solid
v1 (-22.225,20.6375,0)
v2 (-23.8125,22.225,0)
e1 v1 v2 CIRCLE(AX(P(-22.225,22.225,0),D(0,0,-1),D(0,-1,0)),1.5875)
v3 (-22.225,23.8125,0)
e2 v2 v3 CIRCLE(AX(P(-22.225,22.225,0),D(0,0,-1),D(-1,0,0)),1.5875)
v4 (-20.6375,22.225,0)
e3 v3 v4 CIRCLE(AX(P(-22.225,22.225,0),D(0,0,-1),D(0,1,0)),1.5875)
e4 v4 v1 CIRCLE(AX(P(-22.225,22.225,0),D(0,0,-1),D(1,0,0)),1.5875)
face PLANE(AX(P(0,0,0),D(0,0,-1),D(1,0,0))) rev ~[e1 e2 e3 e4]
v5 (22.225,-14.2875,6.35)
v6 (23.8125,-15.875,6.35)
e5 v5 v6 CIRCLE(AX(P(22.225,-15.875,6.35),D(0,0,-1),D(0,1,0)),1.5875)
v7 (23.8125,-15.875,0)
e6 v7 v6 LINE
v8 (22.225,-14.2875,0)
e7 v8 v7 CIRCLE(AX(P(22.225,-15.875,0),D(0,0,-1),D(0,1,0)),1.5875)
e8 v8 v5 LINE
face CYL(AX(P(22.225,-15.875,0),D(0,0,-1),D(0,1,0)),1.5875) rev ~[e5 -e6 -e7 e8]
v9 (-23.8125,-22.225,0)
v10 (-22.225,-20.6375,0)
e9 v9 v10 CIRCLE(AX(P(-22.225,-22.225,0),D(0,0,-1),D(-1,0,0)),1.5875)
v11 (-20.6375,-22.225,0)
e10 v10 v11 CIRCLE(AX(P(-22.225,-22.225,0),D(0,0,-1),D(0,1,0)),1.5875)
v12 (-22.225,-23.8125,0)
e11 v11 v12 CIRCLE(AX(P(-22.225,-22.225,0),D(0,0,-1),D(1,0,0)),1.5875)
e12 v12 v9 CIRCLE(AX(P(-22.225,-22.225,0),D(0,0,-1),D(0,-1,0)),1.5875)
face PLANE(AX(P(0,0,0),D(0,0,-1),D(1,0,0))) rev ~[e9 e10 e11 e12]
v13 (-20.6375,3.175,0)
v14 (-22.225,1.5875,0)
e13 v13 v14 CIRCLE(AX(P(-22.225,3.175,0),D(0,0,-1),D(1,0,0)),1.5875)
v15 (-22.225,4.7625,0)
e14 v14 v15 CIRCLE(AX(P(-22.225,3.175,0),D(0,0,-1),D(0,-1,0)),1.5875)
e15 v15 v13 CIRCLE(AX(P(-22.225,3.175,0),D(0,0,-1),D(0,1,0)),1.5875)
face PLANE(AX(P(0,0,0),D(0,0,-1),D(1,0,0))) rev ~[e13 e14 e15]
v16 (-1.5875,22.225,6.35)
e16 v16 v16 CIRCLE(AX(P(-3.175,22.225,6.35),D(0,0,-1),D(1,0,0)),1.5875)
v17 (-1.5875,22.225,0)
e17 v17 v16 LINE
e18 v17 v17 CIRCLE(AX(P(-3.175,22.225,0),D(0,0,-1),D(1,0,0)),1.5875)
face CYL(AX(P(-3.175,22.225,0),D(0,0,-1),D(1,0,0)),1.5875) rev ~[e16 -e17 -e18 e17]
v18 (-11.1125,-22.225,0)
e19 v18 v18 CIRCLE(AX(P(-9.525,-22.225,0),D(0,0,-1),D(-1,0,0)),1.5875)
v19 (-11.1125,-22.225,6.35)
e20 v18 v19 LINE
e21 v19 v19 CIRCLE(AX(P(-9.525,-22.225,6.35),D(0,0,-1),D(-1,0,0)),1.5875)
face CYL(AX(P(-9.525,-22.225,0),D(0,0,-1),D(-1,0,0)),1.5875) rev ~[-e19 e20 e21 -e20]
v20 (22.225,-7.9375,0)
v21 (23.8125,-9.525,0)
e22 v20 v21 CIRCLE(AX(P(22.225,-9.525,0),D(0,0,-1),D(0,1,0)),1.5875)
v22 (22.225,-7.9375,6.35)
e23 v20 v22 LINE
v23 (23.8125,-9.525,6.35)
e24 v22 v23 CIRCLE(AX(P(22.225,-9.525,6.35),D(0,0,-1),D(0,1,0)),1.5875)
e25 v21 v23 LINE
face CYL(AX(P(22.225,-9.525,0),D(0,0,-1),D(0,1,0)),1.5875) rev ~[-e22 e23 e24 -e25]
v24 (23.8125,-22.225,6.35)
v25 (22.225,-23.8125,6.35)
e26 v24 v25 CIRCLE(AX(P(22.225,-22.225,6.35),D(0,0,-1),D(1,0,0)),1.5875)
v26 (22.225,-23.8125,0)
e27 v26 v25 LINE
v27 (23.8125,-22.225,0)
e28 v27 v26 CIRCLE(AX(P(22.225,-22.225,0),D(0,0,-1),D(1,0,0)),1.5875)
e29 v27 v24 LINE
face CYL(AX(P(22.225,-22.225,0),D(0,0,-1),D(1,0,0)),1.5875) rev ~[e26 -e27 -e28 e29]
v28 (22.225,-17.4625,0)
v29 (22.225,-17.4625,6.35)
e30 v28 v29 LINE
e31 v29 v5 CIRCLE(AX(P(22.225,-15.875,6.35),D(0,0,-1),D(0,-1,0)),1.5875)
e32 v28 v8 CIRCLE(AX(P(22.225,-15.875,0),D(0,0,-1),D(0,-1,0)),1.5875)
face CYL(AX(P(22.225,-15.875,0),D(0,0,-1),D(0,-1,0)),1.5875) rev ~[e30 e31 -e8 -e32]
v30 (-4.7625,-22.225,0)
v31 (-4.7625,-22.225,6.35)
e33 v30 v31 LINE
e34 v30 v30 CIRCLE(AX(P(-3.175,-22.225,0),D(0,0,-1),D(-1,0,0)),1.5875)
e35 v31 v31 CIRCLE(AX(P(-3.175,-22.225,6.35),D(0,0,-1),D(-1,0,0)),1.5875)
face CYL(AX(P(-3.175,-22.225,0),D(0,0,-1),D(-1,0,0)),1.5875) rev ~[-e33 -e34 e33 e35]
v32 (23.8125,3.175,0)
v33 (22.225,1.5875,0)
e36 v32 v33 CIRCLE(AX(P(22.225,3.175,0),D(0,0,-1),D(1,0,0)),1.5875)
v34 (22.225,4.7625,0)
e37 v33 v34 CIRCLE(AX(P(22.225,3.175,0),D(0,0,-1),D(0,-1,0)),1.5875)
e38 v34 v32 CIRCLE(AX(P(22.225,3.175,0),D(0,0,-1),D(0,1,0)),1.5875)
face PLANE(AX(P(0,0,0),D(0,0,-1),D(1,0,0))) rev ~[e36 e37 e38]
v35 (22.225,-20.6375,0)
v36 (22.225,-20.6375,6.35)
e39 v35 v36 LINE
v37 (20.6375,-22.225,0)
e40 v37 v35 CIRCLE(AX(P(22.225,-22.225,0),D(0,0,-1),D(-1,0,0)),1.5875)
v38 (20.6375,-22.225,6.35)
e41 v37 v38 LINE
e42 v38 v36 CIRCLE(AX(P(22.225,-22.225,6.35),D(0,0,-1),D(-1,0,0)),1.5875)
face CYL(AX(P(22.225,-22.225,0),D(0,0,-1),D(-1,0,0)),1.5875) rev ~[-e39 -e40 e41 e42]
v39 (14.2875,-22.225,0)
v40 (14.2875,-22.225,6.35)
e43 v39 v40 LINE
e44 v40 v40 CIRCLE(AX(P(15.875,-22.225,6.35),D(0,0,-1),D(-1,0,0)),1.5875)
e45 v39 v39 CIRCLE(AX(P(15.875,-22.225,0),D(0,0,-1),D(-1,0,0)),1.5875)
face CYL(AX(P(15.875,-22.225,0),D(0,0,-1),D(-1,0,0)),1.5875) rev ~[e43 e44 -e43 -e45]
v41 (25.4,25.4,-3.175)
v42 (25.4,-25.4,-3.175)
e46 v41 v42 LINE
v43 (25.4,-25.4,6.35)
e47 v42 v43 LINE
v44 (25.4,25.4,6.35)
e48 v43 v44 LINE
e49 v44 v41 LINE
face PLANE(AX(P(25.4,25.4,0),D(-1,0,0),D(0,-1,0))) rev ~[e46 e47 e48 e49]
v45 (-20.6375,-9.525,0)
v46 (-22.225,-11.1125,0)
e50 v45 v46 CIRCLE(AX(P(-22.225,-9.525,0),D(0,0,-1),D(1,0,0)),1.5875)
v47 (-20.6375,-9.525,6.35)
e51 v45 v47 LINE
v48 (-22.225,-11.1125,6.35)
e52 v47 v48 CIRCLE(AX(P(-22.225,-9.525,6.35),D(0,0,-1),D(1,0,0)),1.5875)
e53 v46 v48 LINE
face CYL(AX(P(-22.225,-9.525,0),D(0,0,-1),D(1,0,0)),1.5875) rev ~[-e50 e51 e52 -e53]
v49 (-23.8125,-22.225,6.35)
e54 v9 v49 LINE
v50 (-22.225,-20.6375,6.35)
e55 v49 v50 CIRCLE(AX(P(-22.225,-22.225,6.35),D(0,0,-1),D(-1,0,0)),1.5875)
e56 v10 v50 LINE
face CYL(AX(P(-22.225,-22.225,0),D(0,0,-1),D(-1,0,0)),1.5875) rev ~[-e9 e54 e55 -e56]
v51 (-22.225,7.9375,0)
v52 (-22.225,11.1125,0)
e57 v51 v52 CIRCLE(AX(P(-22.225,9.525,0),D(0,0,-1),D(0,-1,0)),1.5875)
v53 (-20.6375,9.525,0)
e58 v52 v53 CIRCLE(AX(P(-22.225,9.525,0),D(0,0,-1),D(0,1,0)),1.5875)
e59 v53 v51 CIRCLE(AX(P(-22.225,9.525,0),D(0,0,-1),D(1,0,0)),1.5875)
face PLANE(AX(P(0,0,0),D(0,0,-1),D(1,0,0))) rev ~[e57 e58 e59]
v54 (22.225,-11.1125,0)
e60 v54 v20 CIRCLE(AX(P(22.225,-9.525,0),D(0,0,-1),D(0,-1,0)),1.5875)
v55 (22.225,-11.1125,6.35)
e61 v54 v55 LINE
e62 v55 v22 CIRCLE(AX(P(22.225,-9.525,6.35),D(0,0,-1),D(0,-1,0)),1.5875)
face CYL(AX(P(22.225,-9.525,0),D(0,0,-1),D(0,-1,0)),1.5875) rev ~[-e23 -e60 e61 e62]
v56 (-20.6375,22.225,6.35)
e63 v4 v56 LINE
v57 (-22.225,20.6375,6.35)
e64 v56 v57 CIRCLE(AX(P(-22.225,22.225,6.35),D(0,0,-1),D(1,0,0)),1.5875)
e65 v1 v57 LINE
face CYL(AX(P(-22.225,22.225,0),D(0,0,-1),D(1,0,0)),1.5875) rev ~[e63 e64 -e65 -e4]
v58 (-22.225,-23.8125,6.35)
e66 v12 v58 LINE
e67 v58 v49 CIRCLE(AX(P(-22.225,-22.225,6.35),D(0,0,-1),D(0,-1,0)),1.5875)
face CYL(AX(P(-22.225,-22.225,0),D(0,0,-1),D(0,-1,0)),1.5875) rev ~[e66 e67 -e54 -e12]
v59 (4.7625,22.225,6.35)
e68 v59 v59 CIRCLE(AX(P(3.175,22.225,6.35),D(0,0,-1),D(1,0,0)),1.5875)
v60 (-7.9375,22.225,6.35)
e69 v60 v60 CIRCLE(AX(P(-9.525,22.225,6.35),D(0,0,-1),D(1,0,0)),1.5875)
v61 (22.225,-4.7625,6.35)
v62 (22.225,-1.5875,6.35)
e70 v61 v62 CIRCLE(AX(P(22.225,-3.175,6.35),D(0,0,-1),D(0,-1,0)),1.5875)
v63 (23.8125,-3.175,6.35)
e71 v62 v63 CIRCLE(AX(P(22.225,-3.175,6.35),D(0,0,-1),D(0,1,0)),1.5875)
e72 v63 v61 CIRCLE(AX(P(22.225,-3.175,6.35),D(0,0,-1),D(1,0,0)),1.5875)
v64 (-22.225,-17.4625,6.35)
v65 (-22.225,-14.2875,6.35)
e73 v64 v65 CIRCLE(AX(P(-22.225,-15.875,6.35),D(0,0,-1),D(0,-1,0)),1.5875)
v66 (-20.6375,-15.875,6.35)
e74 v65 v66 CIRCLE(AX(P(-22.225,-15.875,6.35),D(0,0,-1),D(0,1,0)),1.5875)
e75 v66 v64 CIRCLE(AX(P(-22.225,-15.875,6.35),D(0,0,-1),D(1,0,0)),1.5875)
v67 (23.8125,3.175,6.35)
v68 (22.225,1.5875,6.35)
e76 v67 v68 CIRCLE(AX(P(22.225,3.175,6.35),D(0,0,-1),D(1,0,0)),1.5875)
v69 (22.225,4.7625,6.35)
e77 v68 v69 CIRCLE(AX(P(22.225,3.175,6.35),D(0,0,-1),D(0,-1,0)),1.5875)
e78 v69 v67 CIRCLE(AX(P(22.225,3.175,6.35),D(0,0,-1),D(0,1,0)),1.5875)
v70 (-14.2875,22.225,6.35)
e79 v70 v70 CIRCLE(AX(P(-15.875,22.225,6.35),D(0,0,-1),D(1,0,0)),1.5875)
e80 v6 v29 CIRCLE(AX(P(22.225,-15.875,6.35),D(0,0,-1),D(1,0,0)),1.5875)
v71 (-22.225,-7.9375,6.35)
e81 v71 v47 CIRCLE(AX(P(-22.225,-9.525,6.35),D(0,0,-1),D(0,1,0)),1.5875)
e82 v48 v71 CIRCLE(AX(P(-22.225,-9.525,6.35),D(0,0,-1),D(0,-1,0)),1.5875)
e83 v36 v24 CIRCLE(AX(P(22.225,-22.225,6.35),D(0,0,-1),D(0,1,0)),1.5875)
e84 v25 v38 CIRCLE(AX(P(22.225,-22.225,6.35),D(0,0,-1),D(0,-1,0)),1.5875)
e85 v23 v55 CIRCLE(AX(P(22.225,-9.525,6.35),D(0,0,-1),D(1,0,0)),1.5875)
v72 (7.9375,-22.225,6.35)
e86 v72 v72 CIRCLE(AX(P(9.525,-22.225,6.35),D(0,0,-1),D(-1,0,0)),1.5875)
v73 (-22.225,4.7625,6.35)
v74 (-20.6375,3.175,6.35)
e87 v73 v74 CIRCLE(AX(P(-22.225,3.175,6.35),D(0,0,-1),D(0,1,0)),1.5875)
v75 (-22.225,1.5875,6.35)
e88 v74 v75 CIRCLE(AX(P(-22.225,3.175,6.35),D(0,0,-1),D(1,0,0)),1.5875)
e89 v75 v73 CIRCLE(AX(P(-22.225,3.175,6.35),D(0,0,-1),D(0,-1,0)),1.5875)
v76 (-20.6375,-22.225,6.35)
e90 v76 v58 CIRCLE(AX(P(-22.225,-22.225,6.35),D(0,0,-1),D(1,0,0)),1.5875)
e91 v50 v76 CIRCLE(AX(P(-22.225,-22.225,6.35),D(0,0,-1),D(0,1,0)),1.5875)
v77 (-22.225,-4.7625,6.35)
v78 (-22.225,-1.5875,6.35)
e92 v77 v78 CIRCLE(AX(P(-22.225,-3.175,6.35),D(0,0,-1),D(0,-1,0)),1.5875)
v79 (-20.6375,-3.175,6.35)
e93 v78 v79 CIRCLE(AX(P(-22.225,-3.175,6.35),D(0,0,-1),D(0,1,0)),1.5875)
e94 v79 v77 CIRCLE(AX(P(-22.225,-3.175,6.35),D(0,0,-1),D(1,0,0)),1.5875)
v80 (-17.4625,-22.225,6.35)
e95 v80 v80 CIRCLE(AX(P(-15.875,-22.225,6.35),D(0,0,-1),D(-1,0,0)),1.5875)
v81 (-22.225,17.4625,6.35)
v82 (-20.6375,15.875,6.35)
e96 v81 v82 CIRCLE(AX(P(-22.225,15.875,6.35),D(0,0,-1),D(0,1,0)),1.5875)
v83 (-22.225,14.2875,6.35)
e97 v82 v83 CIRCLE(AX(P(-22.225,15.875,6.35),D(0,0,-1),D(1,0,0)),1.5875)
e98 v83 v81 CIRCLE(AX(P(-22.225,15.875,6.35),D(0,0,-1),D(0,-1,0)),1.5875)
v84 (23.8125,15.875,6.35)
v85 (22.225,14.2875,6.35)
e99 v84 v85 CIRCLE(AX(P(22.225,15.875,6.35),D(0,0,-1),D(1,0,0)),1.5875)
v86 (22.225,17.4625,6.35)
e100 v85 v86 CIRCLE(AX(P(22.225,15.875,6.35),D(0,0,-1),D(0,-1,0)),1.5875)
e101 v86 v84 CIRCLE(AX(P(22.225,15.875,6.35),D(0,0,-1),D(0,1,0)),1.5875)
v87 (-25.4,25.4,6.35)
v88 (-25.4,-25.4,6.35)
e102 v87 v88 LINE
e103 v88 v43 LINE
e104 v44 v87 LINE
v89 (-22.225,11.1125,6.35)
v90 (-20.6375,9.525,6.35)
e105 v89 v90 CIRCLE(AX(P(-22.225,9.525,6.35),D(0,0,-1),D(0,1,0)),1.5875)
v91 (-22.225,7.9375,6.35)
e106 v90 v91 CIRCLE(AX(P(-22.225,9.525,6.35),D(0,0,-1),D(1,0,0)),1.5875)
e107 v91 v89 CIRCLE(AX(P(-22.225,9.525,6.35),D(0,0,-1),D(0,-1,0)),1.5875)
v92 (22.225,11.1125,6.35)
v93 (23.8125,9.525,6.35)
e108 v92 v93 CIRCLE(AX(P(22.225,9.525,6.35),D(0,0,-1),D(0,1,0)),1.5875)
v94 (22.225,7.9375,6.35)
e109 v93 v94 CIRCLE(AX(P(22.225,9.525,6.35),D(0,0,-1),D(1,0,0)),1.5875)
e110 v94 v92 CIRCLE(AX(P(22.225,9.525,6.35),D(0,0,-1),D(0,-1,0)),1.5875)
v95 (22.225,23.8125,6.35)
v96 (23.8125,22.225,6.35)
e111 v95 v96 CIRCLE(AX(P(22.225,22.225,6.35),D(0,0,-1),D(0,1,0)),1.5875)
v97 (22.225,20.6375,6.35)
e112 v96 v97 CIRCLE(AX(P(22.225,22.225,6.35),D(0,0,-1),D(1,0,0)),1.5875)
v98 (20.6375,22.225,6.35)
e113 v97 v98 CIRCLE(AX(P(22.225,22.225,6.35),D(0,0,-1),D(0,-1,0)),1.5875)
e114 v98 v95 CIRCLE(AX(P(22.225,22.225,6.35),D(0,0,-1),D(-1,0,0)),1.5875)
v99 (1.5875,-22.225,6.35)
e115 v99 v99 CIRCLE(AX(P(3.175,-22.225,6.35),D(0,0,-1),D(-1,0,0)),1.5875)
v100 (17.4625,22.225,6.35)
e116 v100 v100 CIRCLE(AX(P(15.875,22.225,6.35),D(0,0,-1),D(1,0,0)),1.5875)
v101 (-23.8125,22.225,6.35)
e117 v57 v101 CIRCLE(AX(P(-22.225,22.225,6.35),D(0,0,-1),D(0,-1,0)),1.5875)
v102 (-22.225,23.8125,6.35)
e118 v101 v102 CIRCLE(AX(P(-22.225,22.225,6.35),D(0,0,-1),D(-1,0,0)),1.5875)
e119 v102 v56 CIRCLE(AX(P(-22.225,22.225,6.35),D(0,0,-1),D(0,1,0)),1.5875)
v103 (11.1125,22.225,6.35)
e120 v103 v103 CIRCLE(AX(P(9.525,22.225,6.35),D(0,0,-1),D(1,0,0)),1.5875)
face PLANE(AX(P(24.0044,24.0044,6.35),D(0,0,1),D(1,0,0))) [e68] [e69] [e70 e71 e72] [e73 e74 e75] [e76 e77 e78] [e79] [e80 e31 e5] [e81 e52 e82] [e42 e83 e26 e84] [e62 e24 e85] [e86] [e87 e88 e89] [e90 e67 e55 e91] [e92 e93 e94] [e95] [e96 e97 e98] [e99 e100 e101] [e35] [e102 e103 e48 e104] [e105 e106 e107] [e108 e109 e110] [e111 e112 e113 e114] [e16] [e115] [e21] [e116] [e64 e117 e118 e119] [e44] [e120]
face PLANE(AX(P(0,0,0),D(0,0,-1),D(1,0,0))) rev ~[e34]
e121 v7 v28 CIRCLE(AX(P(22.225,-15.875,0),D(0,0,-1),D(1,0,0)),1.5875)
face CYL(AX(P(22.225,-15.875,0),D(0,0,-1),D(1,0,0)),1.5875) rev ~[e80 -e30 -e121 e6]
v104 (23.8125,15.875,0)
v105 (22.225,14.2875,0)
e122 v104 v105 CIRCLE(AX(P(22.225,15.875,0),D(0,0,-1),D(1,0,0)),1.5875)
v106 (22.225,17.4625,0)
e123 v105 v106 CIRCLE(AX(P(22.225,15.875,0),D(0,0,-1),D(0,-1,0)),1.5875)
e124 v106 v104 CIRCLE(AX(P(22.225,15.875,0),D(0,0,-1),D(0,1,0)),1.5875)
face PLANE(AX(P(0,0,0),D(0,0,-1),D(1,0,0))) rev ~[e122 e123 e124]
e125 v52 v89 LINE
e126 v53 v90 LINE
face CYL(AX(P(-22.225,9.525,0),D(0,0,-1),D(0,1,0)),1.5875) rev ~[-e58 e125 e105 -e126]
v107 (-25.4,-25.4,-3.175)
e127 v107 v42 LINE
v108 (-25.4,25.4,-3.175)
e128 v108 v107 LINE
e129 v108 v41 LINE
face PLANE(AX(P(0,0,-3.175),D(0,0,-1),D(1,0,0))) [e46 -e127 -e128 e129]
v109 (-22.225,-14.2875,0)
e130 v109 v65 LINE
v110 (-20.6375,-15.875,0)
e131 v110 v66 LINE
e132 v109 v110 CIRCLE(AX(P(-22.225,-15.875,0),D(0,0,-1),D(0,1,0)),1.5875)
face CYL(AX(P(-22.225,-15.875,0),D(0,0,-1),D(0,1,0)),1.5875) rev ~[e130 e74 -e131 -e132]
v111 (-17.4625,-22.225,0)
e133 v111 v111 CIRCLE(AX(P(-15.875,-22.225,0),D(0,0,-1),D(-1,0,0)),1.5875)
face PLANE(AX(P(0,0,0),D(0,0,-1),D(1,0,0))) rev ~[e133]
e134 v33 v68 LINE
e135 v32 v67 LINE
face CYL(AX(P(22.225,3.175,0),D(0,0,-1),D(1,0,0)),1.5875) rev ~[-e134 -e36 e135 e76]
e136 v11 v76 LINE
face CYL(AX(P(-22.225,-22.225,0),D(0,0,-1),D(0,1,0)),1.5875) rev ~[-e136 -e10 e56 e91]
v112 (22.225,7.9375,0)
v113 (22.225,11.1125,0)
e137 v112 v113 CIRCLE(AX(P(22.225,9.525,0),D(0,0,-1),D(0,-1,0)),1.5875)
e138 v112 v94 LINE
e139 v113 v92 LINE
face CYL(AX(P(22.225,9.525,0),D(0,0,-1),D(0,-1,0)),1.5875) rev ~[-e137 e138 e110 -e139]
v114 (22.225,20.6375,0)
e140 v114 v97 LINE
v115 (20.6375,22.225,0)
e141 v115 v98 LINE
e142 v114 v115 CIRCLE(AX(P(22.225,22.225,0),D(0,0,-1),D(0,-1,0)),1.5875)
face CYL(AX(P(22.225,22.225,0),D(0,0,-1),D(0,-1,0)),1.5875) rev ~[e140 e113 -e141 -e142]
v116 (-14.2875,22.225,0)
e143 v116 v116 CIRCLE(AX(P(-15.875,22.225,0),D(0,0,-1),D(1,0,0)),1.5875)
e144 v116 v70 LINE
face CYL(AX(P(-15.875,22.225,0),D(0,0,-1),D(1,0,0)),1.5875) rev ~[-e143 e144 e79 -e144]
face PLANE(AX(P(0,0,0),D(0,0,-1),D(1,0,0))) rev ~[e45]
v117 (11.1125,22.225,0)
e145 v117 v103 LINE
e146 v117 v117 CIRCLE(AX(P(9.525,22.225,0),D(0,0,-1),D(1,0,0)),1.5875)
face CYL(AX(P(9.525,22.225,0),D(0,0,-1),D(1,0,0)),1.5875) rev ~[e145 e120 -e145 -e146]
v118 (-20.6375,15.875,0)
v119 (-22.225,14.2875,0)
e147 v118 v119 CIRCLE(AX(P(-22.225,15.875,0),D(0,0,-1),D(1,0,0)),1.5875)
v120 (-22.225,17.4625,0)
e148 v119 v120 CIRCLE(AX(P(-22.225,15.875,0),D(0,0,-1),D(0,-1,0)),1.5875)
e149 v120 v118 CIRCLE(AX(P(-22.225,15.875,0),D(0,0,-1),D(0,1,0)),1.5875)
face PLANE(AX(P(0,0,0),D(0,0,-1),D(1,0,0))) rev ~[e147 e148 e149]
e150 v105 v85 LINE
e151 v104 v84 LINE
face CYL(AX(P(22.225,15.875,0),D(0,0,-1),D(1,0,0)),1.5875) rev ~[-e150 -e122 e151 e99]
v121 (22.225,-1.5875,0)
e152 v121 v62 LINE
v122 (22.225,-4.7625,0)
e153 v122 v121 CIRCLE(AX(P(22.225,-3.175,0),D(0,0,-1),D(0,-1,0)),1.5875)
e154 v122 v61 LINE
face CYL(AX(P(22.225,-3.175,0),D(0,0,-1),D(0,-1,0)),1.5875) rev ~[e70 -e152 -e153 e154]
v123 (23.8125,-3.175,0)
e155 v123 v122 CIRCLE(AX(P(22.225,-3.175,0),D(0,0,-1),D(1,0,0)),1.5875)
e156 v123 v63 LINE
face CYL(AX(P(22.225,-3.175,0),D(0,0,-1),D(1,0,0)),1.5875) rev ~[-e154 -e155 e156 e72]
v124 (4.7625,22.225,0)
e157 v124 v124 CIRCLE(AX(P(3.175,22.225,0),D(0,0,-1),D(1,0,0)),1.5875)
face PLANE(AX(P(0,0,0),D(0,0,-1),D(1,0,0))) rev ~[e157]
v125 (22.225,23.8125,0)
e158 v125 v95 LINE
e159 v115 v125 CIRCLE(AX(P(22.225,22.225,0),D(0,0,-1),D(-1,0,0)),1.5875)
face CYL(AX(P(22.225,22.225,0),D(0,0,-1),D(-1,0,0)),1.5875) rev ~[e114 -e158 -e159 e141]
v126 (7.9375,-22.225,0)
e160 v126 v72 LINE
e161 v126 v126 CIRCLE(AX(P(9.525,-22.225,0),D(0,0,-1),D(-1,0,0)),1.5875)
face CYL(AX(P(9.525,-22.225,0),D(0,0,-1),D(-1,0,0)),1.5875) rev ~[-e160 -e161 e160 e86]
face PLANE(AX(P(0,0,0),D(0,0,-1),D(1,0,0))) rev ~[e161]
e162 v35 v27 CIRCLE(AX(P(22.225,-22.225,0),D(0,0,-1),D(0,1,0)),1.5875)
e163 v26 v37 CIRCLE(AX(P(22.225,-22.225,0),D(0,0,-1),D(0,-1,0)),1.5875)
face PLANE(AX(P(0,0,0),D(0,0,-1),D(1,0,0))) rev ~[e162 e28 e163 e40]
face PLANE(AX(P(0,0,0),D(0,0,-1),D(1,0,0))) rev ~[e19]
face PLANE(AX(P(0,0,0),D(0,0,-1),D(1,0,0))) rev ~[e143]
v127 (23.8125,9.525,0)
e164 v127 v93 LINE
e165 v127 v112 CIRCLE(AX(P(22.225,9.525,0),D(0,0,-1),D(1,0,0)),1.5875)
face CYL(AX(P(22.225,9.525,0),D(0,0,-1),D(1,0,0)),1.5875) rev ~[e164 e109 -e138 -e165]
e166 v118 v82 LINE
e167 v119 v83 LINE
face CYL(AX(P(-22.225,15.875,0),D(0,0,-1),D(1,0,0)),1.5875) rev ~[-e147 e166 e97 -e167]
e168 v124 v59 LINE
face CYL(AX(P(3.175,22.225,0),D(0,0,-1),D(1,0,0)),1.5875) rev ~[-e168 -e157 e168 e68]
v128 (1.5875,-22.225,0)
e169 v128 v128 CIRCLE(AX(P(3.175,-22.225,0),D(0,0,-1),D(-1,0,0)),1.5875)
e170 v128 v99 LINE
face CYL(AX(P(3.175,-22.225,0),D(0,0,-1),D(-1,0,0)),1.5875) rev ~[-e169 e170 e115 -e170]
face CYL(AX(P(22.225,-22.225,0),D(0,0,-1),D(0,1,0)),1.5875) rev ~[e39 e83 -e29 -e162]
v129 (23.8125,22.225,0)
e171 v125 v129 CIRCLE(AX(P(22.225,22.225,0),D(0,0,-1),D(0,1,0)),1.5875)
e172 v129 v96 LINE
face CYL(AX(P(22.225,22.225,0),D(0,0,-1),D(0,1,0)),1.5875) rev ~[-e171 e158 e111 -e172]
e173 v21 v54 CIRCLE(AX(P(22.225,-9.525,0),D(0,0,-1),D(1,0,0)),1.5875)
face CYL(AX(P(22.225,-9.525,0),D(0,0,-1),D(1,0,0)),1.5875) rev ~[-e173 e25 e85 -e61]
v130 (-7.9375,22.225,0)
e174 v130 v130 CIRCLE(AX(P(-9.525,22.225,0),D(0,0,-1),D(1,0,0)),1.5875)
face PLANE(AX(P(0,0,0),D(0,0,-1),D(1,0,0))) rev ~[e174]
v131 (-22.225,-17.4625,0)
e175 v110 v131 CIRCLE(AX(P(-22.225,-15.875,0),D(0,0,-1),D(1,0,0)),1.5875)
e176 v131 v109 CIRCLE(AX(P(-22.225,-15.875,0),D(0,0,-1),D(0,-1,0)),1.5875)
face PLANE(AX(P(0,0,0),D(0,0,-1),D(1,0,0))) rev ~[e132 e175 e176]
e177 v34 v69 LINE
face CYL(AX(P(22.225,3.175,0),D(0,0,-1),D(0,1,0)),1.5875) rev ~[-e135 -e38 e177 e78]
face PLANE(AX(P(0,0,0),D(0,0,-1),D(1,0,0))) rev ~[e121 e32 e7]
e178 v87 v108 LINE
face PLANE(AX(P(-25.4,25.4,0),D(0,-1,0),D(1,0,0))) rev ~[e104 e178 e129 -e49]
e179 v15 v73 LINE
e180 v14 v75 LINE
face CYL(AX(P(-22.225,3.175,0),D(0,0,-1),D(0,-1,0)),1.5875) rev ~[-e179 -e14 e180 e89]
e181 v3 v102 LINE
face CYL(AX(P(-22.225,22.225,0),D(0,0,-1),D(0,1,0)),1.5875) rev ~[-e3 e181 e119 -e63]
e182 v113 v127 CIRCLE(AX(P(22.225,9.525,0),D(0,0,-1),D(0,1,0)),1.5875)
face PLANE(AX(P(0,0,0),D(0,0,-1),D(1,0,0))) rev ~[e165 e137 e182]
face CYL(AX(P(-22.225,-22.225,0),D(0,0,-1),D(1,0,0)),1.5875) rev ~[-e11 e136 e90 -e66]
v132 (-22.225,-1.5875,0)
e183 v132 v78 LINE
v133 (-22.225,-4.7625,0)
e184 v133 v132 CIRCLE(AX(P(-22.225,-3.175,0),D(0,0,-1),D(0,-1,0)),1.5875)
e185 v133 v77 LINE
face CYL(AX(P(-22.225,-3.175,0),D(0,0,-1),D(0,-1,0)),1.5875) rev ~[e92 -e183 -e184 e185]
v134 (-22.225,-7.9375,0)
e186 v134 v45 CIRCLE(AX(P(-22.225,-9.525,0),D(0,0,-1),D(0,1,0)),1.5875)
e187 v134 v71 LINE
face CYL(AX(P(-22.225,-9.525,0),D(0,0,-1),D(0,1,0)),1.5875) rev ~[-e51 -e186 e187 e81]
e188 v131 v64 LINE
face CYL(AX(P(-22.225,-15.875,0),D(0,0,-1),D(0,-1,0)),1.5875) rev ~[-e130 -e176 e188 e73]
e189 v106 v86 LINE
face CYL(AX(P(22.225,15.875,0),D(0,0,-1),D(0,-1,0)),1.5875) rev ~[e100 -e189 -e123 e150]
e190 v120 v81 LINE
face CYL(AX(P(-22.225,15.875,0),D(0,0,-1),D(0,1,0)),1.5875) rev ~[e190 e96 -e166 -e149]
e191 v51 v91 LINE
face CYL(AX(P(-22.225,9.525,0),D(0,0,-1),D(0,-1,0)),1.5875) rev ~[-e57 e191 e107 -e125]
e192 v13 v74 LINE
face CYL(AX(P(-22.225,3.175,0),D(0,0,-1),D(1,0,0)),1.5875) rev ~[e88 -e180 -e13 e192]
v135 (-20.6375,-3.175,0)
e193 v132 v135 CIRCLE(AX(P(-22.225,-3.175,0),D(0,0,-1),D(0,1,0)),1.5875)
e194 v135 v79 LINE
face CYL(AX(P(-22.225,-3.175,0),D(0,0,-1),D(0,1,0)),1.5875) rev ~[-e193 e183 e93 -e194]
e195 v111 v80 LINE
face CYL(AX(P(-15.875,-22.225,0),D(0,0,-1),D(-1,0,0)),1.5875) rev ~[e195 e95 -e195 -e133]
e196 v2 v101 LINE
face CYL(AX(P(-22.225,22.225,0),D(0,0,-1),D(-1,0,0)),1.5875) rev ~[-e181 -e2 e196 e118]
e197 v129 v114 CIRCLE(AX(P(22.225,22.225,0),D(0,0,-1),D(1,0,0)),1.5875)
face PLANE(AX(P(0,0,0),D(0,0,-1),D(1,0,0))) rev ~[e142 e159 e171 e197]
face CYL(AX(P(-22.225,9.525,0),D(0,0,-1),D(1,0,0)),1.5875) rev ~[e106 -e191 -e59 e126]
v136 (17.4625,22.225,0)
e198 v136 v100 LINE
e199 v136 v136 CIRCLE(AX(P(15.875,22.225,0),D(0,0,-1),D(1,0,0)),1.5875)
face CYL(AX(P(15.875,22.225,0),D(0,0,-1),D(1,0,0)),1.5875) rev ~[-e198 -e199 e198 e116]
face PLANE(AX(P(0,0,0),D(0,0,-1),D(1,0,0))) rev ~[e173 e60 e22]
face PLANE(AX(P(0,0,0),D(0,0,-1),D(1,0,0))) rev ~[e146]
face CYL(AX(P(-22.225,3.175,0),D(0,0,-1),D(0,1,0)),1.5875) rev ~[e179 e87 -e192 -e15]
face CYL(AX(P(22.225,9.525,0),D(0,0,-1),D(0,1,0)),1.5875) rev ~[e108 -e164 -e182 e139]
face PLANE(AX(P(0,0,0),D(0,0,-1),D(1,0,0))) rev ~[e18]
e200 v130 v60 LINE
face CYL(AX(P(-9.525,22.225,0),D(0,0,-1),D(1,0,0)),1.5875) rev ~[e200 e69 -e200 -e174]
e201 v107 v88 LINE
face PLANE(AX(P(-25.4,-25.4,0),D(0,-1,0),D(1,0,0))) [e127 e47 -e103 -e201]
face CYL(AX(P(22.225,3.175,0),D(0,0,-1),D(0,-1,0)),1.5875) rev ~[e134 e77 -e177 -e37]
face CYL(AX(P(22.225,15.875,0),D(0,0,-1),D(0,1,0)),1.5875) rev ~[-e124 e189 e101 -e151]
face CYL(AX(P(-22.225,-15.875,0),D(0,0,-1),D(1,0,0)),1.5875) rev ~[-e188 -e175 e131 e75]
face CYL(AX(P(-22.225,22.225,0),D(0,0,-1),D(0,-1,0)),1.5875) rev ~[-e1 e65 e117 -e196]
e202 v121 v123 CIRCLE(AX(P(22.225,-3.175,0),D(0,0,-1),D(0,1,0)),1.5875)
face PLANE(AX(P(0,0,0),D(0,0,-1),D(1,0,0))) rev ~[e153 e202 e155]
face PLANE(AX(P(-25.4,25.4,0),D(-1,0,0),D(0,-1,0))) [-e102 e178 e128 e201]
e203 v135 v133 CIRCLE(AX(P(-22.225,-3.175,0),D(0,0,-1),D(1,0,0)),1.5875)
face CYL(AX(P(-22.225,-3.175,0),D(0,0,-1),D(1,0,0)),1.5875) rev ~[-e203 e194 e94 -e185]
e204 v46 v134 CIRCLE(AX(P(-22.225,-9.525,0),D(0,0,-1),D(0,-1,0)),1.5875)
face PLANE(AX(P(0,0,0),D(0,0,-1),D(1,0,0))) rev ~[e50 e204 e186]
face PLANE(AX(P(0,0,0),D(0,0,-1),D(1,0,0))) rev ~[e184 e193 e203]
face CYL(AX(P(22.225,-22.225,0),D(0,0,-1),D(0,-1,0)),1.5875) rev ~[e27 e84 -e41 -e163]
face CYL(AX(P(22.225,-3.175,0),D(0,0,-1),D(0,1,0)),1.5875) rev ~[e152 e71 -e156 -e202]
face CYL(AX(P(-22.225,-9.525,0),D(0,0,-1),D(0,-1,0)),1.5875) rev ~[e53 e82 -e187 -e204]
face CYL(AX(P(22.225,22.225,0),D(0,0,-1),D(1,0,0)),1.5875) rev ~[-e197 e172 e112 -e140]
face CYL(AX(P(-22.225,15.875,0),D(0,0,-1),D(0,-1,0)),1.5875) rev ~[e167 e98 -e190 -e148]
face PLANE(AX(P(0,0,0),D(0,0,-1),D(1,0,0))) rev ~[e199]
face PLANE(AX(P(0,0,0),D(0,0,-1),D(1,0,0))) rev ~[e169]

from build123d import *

# Parameters (mm, degrees)
F1_DEPTH = 6.35
F2_W     = 50.8
F2_H     = 50.8
F3_DEPTH = 3.175


with BuildPart() as f1:
    # F0 (on Top) → F1 (new body)
    with BuildSketch(Plane.XY):
        with BuildLine():
            Line((25.4, 22.225), (25.4, 25.4))
            Line((25.4, 25.4), (22.225, 25.4))
            Line((22.225, 25.4), (22.225, 23.8125))
            ThreePointArc((22.225, 23.8125), (23.3475320151, 23.3475320151), (23.8125, 22.225))
            Line((23.8125, 22.225), (25.4, 22.225))
        make_face()
        with BuildLine():
            Line((22.225, 23.8125), (22.225, 25.4))
            Line((22.225, 25.4), (-22.225, 25.4))
            Line((-22.225, 25.4), (-22.225, 23.8125))
            ThreePointArc((-22.225, 23.8125), (-21.1024679849, 23.3475320151), (-20.6375, 22.225))
            Line((-20.6375, 22.225), (-17.4625, 22.225))
            ThreePointArc((-17.4625, 22.225), (-15.875, 23.8125), (-14.2875, 22.225))
            Line((-14.2875, 22.225), (-11.1125, 22.225))
            ThreePointArc((-11.1125, 22.225), (-9.525, 23.8125), (-7.9375, 22.225))
            Line((-7.9375, 22.225), (-4.7625, 22.225))
            ThreePointArc((-4.7625, 22.225), (-3.175, 23.8125), (-1.5875, 22.225))
            Line((-1.5875, 22.225), (1.5875, 22.225))
            ThreePointArc((1.5875, 22.225), (3.175, 23.8125), (4.7625, 22.225))
            Line((4.7625, 22.225), (7.9375, 22.225))
            ThreePointArc((7.9375, 22.225), (9.525, 23.8125), (11.1125, 22.225))
            Line((11.1125, 22.225), (14.2875, 22.225))
            ThreePointArc((14.2875, 22.225), (15.875, 23.8125), (17.4625, 22.225))
            Line((17.4625, 22.225), (20.6375, 22.225))
            ThreePointArc((20.6375, 22.225), (21.1024679849, 23.3475320151), (22.225, 23.8125))
        make_face()
        with BuildLine():
            Line((25.4, -22.225), (25.4, 22.225))
            Line((25.4, 22.225), (23.8125, 22.225))
            ThreePointArc((23.8125, 22.225), (23.3475320151, 21.1024679849), (22.225, 20.6375))
            Line((22.225, 20.6375), (22.225, 17.4625))
            ThreePointArc((22.225, 17.4625), (23.3475320151, 16.9975320151), (23.8125, 15.875))
            ThreePointArc((23.8125, 15.875), (23.3475320151, 14.7524679849), (22.225, 14.2875))
            Line((22.225, 14.2875), (22.225, 11.1125))
            ThreePointArc((22.225, 11.1125), (23.3475320151, 10.6475320151), (23.8125, 9.525))
            ThreePointArc((23.8125, 9.525), (23.3475320151, 8.4024679849), (22.225, 7.9375))
            Line((22.225, 7.9375), (22.225, 4.7625))
            ThreePointArc((22.225, 4.7625), (23.3475320151, 4.2975320151), (23.8125, 3.175))
            ThreePointArc((23.8125, 3.175), (23.3475320151, 2.0524679849), (22.225, 1.5875))
            Line((22.225, 1.5875), (22.225, -1.5875))
            ThreePointArc((22.225, -1.5875), (23.3475320151, -2.0524679849), (23.8125, -3.175))
            ThreePointArc((23.8125, -3.175), (23.3475320151, -4.2975320151), (22.225, -4.7625))
            Line((22.225, -4.7625), (22.225, -7.9375))
            ThreePointArc((22.225, -7.9375), (23.3475320151, -8.4024679849), (23.8125, -9.525))
            ThreePointArc((23.8125, -9.525), (23.3475320151, -10.6475320151), (22.225, -11.1125))
            Line((22.225, -11.1125), (22.225, -14.2875))
            ThreePointArc((22.225, -14.2875), (23.3475320151, -14.7524679849), (23.8125, -15.875))
            ThreePointArc((23.8125, -15.875), (23.3475320151, -16.9975320151), (22.225, -17.4625))
            Line((22.225, -17.4625), (22.225, -20.6375))
            ThreePointArc((22.225, -20.6375), (23.3475320151, -21.1024679849), (23.8125, -22.225))
            Line((23.8125, -22.225), (25.4, -22.225))
        make_face()
        with BuildLine():
            Line((-22.225, 23.8125), (-22.225, 25.4))
            Line((-22.225, 25.4), (-25.4, 25.4))
            Line((-25.4, 25.4), (-25.4, 22.225))
            Line((-25.4, 22.225), (-23.8125, 22.225))
            ThreePointArc((-23.8125, 22.225), (-23.3475320151, 23.3475320151), (-22.225, 23.8125))
        make_face()
        with BuildLine():
            Line((25.4, -25.4), (25.4, -22.225))
            Line((25.4, -22.225), (23.8125, -22.225))
            ThreePointArc((23.8125, -22.225), (23.3475320151, -23.3475320151), (22.225, -23.8125))
            Line((22.225, -23.8125), (22.225, -25.4))
            Line((22.225, -25.4), (25.4, -25.4))
        make_face()
        with BuildLine():
            Line((-23.8125, 22.225), (-25.4, 22.225))
            Line((-25.4, 22.225), (-25.4, 15.875))
            Line((-25.4, 15.875), (-25.4, 9.525))
            Line((-25.4, 9.525), (-25.4, 3.175))
            Line((-25.4, 3.175), (-25.4, -3.175))
            Line((-25.4, -3.175), (-25.4, -9.525))
            Line((-25.4, -9.525), (-25.4, -15.875))
            Line((-25.4, -15.875), (-25.4, -22.225))
            Line((-25.4, -22.225), (-23.8125, -22.225))
            ThreePointArc((-23.8125, -22.225), (-23.3475320151, -21.1024679849), (-22.225, -20.6375))
            Line((-22.225, -20.6375), (-22.225, -17.4625))
            ThreePointArc((-22.225, -17.4625), (-23.8125, -15.875), (-22.225, -14.2875))
            Line((-22.225, -14.2875), (-22.225, -11.1125))
            ThreePointArc((-22.225, -11.1125), (-23.8125, -9.525), (-22.225, -7.9375))
            Line((-22.225, -7.9375), (-22.225, -4.7625))
            ThreePointArc((-22.225, -4.7625), (-23.8125, -3.175), (-22.225, -1.5875))
            Line((-22.225, -1.5875), (-22.225, 1.5875))
            ThreePointArc((-22.225, 1.5875), (-23.8125, 3.175), (-22.225, 4.7625))
            Line((-22.225, 4.7625), (-22.225, 7.9375))
            ThreePointArc((-22.225, 7.9375), (-23.8125, 9.525), (-22.225, 11.1125))
            Line((-22.225, 11.1125), (-22.225, 14.2875))
            ThreePointArc((-22.225, 14.2875), (-23.8125, 15.875), (-22.225, 17.4625))
            Line((-22.225, 17.4625), (-22.225, 20.6375))
            ThreePointArc((-22.225, 20.6375), (-23.3475320151, 21.1024679849), (-23.8125, 22.225))
        make_face()
        with BuildLine():
            Line((15.875, -25.4), (22.225, -25.4))
            Line((22.225, -25.4), (22.225, -23.8125))
            ThreePointArc((22.225, -23.8125), (21.1024679849, -23.3475320151), (20.6375, -22.225))
            Line((20.6375, -22.225), (17.4625, -22.225))
            ThreePointArc((17.4625, -22.225), (15.875, -23.8125), (14.2875, -22.225))
            Line((14.2875, -22.225), (11.1125, -22.225))
            ThreePointArc((11.1125, -22.225), (9.525, -23.8125), (7.9375, -22.225))
            Line((7.9375, -22.225), (4.7625, -22.225))
            ThreePointArc((4.7625, -22.225), (3.175, -23.8125), (1.5875, -22.225))
            Line((1.5875, -22.225), (-1.5875, -22.225))
            ThreePointArc((-1.5875, -22.225), (-3.175, -23.8125), (-4.7625, -22.225))
            Line((-4.7625, -22.225), (-7.9375, -22.225))
            ThreePointArc((-7.9375, -22.225), (-9.525, -23.8125), (-11.1125, -22.225))
            Line((-11.1125, -22.225), (-14.2875, -22.225))
            ThreePointArc((-14.2875, -22.225), (-15.875, -23.8125), (-17.4625, -22.225))
            Line((-17.4625, -22.225), (-20.6375, -22.225))
            ThreePointArc((-20.6375, -22.225), (-21.1024679849, -23.3475320151), (-22.225, -23.8125))
            Line((-22.225, -23.8125), (-22.225, -25.4))
            Line((-22.225, -25.4), (-15.875, -25.4))
            Line((-15.875, -25.4), (-9.525, -25.4))
            Line((-9.525, -25.4), (-3.175, -25.4))
            Line((-3.175, -25.4), (3.175, -25.4))
            Line((3.175, -25.4), (9.525, -25.4))
            Line((9.525, -25.4), (15.875, -25.4))
        make_face()
        with BuildLine():
            Line((-23.8125, -22.225), (-25.4, -22.225))
            Line((-25.4, -22.225), (-25.4, -25.4))
            Line((-25.4, -25.4), (-22.225, -25.4))
            Line((-22.225, -25.4), (-22.225, -23.8125))
            ThreePointArc((-22.225, -23.8125), (-23.3475320151, -23.3475320151), (-23.8125, -22.225))
        make_face()
        with BuildLine():
            ThreePointArc((22.225, 20.6375), (21.1024679849, 21.1024679849), (20.6375, 22.225))
            Line((20.6375, 22.225), (17.4625, 22.225))
            ThreePointArc((17.4625, 22.225), (15.875, 20.6375), (14.2875, 22.225))
            Line((14.2875, 22.225), (11.1125, 22.225))
            ThreePointArc((11.1125, 22.225), (9.525, 20.6375), (7.9375, 22.225))
            Line((7.9375, 22.225), (4.7625, 22.225))
            ThreePointArc((4.7625, 22.225), (3.175, 20.6375), (1.5875, 22.225))
            Line((1.5875, 22.225), (-1.5875, 22.225))
            ThreePointArc((-1.5875, 22.225), (-3.175, 20.6375), (-4.7625, 22.225))
            Line((-4.7625, 22.225), (-7.9375, 22.225))
            ThreePointArc((-7.9375, 22.225), (-9.525, 20.6375), (-11.1125, 22.225))
            Line((-11.1125, 22.225), (-14.2875, 22.225))
            ThreePointArc((-14.2875, 22.225), (-15.875, 20.6375), (-17.4625, 22.225))
            Line((-17.4625, 22.225), (-20.6375, 22.225))
            ThreePointArc((-20.6375, 22.225), (-21.1024679849, 21.1024679849), (-22.225, 20.6375))
            Line((-22.225, 20.6375), (-22.225, 17.4625))
            ThreePointArc((-22.225, 17.4625), (-21.1024679849, 16.9975320151), (-20.6375, 15.875))
            ThreePointArc((-20.6375, 15.875), (-21.1024679849, 14.7524679849), (-22.225, 14.2875))
            Line((-22.225, 14.2875), (-22.225, 11.1125))
            ThreePointArc((-22.225, 11.1125), (-21.1024679849, 10.6475320151), (-20.6375, 9.525))
            ThreePointArc((-20.6375, 9.525), (-21.1024679849, 8.4024679849), (-22.225, 7.9375))
            Line((-22.225, 7.9375), (-22.225, 4.7625))
            ThreePointArc((-22.225, 4.7625), (-21.1024679849, 4.2975320151), (-20.6375, 3.175))
            ThreePointArc((-20.6375, 3.175), (-21.1024679849, 2.0524679849), (-22.225, 1.5875))
            Line((-22.225, 1.5875), (-22.225, -1.5875))
            ThreePointArc((-22.225, -1.5875), (-21.1024679849, -2.0524679849), (-20.6375, -3.175))
            ThreePointArc((-20.6375, -3.175), (-21.1024679849, -4.2975320151), (-22.225, -4.7625))
            Line((-22.225, -4.7625), (-22.225, -7.9375))
            ThreePointArc((-22.225, -7.9375), (-21.1024679849, -8.4024679849), (-20.6375, -9.525))
            ThreePointArc((-20.6375, -9.525), (-21.1024679849, -10.6475320151), (-22.225, -11.1125))
            Line((-22.225, -11.1125), (-22.225, -14.2875))
            ThreePointArc((-22.225, -14.2875), (-21.1024679849, -14.7524679849), (-20.6375, -15.875))
            ThreePointArc((-20.6375, -15.875), (-21.1024679849, -16.9975320151), (-22.225, -17.4625))
            Line((-22.225, -17.4625), (-22.225, -20.6375))
            ThreePointArc((-22.225, -20.6375), (-21.1024679849, -21.1024679849), (-20.6375, -22.225))
            Line((-20.6375, -22.225), (-17.4625, -22.225))
            ThreePointArc((-17.4625, -22.225), (-15.875, -20.6375), (-14.2875, -22.225))
            Line((-14.2875, -22.225), (-11.1125, -22.225))
            ThreePointArc((-11.1125, -22.225), (-9.525, -20.6375), (-7.9375, -22.225))
            Line((-7.9375, -22.225), (-4.7625, -22.225))
            ThreePointArc((-4.7625, -22.225), (-3.175, -20.6375), (-1.5875, -22.225))
            Line((-1.5875, -22.225), (1.5875, -22.225))
            ThreePointArc((1.5875, -22.225), (3.175, -20.6375), (4.7625, -22.225))
            Line((4.7625, -22.225), (7.9375, -22.225))
            ThreePointArc((7.9375, -22.225), (9.525, -20.6375), (11.1125, -22.225))
            Line((11.1125, -22.225), (14.2875, -22.225))
            ThreePointArc((14.2875, -22.225), (15.875, -20.6375), (17.4625, -22.225))
            Line((17.4625, -22.225), (20.6375, -22.225))
            ThreePointArc((20.6375, -22.225), (21.1024679849, -21.1024679849), (22.225, -20.6375))
            Line((22.225, -20.6375), (22.225, -17.4625))
            ThreePointArc((22.225, -17.4625), (20.6375, -15.875), (22.225, -14.2875))
            Line((22.225, -14.2875), (22.225, -11.1125))
            ThreePointArc((22.225, -11.1125), (20.6375, -9.525), (22.225, -7.9375))
            Line((22.225, -7.9375), (22.225, -4.7625))
            ThreePointArc((22.225, -4.7625), (20.6375, -3.175), (22.225, -1.5875))
            Line((22.225, -1.5875), (22.225, 1.5875))
            ThreePointArc((22.225, 1.5875), (20.6375, 3.175), (22.225, 4.7625))
            Line((22.225, 4.7625), (22.225, 7.9375))
            ThreePointArc((22.225, 7.9375), (20.6375, 9.525), (22.225, 11.1125))
            Line((22.225, 11.1125), (22.225, 14.2875))
            ThreePointArc((22.225, 14.2875), (20.6375, 15.875), (22.225, 17.4625))
            Line((22.225, 17.4625), (22.225, 20.6375))
        make_face()
    extrude(amount=F1_DEPTH)

    # F2 (on face) → F3 (join)
    with BuildSketch(Plane(origin=(0, 0, 0), x_dir=(1, 0, 0), z_dir=(0, 0, -1))):
        Rectangle(F2_W, F2_H)
    extrude(amount=F3_DEPTH)


solid = f1.part
